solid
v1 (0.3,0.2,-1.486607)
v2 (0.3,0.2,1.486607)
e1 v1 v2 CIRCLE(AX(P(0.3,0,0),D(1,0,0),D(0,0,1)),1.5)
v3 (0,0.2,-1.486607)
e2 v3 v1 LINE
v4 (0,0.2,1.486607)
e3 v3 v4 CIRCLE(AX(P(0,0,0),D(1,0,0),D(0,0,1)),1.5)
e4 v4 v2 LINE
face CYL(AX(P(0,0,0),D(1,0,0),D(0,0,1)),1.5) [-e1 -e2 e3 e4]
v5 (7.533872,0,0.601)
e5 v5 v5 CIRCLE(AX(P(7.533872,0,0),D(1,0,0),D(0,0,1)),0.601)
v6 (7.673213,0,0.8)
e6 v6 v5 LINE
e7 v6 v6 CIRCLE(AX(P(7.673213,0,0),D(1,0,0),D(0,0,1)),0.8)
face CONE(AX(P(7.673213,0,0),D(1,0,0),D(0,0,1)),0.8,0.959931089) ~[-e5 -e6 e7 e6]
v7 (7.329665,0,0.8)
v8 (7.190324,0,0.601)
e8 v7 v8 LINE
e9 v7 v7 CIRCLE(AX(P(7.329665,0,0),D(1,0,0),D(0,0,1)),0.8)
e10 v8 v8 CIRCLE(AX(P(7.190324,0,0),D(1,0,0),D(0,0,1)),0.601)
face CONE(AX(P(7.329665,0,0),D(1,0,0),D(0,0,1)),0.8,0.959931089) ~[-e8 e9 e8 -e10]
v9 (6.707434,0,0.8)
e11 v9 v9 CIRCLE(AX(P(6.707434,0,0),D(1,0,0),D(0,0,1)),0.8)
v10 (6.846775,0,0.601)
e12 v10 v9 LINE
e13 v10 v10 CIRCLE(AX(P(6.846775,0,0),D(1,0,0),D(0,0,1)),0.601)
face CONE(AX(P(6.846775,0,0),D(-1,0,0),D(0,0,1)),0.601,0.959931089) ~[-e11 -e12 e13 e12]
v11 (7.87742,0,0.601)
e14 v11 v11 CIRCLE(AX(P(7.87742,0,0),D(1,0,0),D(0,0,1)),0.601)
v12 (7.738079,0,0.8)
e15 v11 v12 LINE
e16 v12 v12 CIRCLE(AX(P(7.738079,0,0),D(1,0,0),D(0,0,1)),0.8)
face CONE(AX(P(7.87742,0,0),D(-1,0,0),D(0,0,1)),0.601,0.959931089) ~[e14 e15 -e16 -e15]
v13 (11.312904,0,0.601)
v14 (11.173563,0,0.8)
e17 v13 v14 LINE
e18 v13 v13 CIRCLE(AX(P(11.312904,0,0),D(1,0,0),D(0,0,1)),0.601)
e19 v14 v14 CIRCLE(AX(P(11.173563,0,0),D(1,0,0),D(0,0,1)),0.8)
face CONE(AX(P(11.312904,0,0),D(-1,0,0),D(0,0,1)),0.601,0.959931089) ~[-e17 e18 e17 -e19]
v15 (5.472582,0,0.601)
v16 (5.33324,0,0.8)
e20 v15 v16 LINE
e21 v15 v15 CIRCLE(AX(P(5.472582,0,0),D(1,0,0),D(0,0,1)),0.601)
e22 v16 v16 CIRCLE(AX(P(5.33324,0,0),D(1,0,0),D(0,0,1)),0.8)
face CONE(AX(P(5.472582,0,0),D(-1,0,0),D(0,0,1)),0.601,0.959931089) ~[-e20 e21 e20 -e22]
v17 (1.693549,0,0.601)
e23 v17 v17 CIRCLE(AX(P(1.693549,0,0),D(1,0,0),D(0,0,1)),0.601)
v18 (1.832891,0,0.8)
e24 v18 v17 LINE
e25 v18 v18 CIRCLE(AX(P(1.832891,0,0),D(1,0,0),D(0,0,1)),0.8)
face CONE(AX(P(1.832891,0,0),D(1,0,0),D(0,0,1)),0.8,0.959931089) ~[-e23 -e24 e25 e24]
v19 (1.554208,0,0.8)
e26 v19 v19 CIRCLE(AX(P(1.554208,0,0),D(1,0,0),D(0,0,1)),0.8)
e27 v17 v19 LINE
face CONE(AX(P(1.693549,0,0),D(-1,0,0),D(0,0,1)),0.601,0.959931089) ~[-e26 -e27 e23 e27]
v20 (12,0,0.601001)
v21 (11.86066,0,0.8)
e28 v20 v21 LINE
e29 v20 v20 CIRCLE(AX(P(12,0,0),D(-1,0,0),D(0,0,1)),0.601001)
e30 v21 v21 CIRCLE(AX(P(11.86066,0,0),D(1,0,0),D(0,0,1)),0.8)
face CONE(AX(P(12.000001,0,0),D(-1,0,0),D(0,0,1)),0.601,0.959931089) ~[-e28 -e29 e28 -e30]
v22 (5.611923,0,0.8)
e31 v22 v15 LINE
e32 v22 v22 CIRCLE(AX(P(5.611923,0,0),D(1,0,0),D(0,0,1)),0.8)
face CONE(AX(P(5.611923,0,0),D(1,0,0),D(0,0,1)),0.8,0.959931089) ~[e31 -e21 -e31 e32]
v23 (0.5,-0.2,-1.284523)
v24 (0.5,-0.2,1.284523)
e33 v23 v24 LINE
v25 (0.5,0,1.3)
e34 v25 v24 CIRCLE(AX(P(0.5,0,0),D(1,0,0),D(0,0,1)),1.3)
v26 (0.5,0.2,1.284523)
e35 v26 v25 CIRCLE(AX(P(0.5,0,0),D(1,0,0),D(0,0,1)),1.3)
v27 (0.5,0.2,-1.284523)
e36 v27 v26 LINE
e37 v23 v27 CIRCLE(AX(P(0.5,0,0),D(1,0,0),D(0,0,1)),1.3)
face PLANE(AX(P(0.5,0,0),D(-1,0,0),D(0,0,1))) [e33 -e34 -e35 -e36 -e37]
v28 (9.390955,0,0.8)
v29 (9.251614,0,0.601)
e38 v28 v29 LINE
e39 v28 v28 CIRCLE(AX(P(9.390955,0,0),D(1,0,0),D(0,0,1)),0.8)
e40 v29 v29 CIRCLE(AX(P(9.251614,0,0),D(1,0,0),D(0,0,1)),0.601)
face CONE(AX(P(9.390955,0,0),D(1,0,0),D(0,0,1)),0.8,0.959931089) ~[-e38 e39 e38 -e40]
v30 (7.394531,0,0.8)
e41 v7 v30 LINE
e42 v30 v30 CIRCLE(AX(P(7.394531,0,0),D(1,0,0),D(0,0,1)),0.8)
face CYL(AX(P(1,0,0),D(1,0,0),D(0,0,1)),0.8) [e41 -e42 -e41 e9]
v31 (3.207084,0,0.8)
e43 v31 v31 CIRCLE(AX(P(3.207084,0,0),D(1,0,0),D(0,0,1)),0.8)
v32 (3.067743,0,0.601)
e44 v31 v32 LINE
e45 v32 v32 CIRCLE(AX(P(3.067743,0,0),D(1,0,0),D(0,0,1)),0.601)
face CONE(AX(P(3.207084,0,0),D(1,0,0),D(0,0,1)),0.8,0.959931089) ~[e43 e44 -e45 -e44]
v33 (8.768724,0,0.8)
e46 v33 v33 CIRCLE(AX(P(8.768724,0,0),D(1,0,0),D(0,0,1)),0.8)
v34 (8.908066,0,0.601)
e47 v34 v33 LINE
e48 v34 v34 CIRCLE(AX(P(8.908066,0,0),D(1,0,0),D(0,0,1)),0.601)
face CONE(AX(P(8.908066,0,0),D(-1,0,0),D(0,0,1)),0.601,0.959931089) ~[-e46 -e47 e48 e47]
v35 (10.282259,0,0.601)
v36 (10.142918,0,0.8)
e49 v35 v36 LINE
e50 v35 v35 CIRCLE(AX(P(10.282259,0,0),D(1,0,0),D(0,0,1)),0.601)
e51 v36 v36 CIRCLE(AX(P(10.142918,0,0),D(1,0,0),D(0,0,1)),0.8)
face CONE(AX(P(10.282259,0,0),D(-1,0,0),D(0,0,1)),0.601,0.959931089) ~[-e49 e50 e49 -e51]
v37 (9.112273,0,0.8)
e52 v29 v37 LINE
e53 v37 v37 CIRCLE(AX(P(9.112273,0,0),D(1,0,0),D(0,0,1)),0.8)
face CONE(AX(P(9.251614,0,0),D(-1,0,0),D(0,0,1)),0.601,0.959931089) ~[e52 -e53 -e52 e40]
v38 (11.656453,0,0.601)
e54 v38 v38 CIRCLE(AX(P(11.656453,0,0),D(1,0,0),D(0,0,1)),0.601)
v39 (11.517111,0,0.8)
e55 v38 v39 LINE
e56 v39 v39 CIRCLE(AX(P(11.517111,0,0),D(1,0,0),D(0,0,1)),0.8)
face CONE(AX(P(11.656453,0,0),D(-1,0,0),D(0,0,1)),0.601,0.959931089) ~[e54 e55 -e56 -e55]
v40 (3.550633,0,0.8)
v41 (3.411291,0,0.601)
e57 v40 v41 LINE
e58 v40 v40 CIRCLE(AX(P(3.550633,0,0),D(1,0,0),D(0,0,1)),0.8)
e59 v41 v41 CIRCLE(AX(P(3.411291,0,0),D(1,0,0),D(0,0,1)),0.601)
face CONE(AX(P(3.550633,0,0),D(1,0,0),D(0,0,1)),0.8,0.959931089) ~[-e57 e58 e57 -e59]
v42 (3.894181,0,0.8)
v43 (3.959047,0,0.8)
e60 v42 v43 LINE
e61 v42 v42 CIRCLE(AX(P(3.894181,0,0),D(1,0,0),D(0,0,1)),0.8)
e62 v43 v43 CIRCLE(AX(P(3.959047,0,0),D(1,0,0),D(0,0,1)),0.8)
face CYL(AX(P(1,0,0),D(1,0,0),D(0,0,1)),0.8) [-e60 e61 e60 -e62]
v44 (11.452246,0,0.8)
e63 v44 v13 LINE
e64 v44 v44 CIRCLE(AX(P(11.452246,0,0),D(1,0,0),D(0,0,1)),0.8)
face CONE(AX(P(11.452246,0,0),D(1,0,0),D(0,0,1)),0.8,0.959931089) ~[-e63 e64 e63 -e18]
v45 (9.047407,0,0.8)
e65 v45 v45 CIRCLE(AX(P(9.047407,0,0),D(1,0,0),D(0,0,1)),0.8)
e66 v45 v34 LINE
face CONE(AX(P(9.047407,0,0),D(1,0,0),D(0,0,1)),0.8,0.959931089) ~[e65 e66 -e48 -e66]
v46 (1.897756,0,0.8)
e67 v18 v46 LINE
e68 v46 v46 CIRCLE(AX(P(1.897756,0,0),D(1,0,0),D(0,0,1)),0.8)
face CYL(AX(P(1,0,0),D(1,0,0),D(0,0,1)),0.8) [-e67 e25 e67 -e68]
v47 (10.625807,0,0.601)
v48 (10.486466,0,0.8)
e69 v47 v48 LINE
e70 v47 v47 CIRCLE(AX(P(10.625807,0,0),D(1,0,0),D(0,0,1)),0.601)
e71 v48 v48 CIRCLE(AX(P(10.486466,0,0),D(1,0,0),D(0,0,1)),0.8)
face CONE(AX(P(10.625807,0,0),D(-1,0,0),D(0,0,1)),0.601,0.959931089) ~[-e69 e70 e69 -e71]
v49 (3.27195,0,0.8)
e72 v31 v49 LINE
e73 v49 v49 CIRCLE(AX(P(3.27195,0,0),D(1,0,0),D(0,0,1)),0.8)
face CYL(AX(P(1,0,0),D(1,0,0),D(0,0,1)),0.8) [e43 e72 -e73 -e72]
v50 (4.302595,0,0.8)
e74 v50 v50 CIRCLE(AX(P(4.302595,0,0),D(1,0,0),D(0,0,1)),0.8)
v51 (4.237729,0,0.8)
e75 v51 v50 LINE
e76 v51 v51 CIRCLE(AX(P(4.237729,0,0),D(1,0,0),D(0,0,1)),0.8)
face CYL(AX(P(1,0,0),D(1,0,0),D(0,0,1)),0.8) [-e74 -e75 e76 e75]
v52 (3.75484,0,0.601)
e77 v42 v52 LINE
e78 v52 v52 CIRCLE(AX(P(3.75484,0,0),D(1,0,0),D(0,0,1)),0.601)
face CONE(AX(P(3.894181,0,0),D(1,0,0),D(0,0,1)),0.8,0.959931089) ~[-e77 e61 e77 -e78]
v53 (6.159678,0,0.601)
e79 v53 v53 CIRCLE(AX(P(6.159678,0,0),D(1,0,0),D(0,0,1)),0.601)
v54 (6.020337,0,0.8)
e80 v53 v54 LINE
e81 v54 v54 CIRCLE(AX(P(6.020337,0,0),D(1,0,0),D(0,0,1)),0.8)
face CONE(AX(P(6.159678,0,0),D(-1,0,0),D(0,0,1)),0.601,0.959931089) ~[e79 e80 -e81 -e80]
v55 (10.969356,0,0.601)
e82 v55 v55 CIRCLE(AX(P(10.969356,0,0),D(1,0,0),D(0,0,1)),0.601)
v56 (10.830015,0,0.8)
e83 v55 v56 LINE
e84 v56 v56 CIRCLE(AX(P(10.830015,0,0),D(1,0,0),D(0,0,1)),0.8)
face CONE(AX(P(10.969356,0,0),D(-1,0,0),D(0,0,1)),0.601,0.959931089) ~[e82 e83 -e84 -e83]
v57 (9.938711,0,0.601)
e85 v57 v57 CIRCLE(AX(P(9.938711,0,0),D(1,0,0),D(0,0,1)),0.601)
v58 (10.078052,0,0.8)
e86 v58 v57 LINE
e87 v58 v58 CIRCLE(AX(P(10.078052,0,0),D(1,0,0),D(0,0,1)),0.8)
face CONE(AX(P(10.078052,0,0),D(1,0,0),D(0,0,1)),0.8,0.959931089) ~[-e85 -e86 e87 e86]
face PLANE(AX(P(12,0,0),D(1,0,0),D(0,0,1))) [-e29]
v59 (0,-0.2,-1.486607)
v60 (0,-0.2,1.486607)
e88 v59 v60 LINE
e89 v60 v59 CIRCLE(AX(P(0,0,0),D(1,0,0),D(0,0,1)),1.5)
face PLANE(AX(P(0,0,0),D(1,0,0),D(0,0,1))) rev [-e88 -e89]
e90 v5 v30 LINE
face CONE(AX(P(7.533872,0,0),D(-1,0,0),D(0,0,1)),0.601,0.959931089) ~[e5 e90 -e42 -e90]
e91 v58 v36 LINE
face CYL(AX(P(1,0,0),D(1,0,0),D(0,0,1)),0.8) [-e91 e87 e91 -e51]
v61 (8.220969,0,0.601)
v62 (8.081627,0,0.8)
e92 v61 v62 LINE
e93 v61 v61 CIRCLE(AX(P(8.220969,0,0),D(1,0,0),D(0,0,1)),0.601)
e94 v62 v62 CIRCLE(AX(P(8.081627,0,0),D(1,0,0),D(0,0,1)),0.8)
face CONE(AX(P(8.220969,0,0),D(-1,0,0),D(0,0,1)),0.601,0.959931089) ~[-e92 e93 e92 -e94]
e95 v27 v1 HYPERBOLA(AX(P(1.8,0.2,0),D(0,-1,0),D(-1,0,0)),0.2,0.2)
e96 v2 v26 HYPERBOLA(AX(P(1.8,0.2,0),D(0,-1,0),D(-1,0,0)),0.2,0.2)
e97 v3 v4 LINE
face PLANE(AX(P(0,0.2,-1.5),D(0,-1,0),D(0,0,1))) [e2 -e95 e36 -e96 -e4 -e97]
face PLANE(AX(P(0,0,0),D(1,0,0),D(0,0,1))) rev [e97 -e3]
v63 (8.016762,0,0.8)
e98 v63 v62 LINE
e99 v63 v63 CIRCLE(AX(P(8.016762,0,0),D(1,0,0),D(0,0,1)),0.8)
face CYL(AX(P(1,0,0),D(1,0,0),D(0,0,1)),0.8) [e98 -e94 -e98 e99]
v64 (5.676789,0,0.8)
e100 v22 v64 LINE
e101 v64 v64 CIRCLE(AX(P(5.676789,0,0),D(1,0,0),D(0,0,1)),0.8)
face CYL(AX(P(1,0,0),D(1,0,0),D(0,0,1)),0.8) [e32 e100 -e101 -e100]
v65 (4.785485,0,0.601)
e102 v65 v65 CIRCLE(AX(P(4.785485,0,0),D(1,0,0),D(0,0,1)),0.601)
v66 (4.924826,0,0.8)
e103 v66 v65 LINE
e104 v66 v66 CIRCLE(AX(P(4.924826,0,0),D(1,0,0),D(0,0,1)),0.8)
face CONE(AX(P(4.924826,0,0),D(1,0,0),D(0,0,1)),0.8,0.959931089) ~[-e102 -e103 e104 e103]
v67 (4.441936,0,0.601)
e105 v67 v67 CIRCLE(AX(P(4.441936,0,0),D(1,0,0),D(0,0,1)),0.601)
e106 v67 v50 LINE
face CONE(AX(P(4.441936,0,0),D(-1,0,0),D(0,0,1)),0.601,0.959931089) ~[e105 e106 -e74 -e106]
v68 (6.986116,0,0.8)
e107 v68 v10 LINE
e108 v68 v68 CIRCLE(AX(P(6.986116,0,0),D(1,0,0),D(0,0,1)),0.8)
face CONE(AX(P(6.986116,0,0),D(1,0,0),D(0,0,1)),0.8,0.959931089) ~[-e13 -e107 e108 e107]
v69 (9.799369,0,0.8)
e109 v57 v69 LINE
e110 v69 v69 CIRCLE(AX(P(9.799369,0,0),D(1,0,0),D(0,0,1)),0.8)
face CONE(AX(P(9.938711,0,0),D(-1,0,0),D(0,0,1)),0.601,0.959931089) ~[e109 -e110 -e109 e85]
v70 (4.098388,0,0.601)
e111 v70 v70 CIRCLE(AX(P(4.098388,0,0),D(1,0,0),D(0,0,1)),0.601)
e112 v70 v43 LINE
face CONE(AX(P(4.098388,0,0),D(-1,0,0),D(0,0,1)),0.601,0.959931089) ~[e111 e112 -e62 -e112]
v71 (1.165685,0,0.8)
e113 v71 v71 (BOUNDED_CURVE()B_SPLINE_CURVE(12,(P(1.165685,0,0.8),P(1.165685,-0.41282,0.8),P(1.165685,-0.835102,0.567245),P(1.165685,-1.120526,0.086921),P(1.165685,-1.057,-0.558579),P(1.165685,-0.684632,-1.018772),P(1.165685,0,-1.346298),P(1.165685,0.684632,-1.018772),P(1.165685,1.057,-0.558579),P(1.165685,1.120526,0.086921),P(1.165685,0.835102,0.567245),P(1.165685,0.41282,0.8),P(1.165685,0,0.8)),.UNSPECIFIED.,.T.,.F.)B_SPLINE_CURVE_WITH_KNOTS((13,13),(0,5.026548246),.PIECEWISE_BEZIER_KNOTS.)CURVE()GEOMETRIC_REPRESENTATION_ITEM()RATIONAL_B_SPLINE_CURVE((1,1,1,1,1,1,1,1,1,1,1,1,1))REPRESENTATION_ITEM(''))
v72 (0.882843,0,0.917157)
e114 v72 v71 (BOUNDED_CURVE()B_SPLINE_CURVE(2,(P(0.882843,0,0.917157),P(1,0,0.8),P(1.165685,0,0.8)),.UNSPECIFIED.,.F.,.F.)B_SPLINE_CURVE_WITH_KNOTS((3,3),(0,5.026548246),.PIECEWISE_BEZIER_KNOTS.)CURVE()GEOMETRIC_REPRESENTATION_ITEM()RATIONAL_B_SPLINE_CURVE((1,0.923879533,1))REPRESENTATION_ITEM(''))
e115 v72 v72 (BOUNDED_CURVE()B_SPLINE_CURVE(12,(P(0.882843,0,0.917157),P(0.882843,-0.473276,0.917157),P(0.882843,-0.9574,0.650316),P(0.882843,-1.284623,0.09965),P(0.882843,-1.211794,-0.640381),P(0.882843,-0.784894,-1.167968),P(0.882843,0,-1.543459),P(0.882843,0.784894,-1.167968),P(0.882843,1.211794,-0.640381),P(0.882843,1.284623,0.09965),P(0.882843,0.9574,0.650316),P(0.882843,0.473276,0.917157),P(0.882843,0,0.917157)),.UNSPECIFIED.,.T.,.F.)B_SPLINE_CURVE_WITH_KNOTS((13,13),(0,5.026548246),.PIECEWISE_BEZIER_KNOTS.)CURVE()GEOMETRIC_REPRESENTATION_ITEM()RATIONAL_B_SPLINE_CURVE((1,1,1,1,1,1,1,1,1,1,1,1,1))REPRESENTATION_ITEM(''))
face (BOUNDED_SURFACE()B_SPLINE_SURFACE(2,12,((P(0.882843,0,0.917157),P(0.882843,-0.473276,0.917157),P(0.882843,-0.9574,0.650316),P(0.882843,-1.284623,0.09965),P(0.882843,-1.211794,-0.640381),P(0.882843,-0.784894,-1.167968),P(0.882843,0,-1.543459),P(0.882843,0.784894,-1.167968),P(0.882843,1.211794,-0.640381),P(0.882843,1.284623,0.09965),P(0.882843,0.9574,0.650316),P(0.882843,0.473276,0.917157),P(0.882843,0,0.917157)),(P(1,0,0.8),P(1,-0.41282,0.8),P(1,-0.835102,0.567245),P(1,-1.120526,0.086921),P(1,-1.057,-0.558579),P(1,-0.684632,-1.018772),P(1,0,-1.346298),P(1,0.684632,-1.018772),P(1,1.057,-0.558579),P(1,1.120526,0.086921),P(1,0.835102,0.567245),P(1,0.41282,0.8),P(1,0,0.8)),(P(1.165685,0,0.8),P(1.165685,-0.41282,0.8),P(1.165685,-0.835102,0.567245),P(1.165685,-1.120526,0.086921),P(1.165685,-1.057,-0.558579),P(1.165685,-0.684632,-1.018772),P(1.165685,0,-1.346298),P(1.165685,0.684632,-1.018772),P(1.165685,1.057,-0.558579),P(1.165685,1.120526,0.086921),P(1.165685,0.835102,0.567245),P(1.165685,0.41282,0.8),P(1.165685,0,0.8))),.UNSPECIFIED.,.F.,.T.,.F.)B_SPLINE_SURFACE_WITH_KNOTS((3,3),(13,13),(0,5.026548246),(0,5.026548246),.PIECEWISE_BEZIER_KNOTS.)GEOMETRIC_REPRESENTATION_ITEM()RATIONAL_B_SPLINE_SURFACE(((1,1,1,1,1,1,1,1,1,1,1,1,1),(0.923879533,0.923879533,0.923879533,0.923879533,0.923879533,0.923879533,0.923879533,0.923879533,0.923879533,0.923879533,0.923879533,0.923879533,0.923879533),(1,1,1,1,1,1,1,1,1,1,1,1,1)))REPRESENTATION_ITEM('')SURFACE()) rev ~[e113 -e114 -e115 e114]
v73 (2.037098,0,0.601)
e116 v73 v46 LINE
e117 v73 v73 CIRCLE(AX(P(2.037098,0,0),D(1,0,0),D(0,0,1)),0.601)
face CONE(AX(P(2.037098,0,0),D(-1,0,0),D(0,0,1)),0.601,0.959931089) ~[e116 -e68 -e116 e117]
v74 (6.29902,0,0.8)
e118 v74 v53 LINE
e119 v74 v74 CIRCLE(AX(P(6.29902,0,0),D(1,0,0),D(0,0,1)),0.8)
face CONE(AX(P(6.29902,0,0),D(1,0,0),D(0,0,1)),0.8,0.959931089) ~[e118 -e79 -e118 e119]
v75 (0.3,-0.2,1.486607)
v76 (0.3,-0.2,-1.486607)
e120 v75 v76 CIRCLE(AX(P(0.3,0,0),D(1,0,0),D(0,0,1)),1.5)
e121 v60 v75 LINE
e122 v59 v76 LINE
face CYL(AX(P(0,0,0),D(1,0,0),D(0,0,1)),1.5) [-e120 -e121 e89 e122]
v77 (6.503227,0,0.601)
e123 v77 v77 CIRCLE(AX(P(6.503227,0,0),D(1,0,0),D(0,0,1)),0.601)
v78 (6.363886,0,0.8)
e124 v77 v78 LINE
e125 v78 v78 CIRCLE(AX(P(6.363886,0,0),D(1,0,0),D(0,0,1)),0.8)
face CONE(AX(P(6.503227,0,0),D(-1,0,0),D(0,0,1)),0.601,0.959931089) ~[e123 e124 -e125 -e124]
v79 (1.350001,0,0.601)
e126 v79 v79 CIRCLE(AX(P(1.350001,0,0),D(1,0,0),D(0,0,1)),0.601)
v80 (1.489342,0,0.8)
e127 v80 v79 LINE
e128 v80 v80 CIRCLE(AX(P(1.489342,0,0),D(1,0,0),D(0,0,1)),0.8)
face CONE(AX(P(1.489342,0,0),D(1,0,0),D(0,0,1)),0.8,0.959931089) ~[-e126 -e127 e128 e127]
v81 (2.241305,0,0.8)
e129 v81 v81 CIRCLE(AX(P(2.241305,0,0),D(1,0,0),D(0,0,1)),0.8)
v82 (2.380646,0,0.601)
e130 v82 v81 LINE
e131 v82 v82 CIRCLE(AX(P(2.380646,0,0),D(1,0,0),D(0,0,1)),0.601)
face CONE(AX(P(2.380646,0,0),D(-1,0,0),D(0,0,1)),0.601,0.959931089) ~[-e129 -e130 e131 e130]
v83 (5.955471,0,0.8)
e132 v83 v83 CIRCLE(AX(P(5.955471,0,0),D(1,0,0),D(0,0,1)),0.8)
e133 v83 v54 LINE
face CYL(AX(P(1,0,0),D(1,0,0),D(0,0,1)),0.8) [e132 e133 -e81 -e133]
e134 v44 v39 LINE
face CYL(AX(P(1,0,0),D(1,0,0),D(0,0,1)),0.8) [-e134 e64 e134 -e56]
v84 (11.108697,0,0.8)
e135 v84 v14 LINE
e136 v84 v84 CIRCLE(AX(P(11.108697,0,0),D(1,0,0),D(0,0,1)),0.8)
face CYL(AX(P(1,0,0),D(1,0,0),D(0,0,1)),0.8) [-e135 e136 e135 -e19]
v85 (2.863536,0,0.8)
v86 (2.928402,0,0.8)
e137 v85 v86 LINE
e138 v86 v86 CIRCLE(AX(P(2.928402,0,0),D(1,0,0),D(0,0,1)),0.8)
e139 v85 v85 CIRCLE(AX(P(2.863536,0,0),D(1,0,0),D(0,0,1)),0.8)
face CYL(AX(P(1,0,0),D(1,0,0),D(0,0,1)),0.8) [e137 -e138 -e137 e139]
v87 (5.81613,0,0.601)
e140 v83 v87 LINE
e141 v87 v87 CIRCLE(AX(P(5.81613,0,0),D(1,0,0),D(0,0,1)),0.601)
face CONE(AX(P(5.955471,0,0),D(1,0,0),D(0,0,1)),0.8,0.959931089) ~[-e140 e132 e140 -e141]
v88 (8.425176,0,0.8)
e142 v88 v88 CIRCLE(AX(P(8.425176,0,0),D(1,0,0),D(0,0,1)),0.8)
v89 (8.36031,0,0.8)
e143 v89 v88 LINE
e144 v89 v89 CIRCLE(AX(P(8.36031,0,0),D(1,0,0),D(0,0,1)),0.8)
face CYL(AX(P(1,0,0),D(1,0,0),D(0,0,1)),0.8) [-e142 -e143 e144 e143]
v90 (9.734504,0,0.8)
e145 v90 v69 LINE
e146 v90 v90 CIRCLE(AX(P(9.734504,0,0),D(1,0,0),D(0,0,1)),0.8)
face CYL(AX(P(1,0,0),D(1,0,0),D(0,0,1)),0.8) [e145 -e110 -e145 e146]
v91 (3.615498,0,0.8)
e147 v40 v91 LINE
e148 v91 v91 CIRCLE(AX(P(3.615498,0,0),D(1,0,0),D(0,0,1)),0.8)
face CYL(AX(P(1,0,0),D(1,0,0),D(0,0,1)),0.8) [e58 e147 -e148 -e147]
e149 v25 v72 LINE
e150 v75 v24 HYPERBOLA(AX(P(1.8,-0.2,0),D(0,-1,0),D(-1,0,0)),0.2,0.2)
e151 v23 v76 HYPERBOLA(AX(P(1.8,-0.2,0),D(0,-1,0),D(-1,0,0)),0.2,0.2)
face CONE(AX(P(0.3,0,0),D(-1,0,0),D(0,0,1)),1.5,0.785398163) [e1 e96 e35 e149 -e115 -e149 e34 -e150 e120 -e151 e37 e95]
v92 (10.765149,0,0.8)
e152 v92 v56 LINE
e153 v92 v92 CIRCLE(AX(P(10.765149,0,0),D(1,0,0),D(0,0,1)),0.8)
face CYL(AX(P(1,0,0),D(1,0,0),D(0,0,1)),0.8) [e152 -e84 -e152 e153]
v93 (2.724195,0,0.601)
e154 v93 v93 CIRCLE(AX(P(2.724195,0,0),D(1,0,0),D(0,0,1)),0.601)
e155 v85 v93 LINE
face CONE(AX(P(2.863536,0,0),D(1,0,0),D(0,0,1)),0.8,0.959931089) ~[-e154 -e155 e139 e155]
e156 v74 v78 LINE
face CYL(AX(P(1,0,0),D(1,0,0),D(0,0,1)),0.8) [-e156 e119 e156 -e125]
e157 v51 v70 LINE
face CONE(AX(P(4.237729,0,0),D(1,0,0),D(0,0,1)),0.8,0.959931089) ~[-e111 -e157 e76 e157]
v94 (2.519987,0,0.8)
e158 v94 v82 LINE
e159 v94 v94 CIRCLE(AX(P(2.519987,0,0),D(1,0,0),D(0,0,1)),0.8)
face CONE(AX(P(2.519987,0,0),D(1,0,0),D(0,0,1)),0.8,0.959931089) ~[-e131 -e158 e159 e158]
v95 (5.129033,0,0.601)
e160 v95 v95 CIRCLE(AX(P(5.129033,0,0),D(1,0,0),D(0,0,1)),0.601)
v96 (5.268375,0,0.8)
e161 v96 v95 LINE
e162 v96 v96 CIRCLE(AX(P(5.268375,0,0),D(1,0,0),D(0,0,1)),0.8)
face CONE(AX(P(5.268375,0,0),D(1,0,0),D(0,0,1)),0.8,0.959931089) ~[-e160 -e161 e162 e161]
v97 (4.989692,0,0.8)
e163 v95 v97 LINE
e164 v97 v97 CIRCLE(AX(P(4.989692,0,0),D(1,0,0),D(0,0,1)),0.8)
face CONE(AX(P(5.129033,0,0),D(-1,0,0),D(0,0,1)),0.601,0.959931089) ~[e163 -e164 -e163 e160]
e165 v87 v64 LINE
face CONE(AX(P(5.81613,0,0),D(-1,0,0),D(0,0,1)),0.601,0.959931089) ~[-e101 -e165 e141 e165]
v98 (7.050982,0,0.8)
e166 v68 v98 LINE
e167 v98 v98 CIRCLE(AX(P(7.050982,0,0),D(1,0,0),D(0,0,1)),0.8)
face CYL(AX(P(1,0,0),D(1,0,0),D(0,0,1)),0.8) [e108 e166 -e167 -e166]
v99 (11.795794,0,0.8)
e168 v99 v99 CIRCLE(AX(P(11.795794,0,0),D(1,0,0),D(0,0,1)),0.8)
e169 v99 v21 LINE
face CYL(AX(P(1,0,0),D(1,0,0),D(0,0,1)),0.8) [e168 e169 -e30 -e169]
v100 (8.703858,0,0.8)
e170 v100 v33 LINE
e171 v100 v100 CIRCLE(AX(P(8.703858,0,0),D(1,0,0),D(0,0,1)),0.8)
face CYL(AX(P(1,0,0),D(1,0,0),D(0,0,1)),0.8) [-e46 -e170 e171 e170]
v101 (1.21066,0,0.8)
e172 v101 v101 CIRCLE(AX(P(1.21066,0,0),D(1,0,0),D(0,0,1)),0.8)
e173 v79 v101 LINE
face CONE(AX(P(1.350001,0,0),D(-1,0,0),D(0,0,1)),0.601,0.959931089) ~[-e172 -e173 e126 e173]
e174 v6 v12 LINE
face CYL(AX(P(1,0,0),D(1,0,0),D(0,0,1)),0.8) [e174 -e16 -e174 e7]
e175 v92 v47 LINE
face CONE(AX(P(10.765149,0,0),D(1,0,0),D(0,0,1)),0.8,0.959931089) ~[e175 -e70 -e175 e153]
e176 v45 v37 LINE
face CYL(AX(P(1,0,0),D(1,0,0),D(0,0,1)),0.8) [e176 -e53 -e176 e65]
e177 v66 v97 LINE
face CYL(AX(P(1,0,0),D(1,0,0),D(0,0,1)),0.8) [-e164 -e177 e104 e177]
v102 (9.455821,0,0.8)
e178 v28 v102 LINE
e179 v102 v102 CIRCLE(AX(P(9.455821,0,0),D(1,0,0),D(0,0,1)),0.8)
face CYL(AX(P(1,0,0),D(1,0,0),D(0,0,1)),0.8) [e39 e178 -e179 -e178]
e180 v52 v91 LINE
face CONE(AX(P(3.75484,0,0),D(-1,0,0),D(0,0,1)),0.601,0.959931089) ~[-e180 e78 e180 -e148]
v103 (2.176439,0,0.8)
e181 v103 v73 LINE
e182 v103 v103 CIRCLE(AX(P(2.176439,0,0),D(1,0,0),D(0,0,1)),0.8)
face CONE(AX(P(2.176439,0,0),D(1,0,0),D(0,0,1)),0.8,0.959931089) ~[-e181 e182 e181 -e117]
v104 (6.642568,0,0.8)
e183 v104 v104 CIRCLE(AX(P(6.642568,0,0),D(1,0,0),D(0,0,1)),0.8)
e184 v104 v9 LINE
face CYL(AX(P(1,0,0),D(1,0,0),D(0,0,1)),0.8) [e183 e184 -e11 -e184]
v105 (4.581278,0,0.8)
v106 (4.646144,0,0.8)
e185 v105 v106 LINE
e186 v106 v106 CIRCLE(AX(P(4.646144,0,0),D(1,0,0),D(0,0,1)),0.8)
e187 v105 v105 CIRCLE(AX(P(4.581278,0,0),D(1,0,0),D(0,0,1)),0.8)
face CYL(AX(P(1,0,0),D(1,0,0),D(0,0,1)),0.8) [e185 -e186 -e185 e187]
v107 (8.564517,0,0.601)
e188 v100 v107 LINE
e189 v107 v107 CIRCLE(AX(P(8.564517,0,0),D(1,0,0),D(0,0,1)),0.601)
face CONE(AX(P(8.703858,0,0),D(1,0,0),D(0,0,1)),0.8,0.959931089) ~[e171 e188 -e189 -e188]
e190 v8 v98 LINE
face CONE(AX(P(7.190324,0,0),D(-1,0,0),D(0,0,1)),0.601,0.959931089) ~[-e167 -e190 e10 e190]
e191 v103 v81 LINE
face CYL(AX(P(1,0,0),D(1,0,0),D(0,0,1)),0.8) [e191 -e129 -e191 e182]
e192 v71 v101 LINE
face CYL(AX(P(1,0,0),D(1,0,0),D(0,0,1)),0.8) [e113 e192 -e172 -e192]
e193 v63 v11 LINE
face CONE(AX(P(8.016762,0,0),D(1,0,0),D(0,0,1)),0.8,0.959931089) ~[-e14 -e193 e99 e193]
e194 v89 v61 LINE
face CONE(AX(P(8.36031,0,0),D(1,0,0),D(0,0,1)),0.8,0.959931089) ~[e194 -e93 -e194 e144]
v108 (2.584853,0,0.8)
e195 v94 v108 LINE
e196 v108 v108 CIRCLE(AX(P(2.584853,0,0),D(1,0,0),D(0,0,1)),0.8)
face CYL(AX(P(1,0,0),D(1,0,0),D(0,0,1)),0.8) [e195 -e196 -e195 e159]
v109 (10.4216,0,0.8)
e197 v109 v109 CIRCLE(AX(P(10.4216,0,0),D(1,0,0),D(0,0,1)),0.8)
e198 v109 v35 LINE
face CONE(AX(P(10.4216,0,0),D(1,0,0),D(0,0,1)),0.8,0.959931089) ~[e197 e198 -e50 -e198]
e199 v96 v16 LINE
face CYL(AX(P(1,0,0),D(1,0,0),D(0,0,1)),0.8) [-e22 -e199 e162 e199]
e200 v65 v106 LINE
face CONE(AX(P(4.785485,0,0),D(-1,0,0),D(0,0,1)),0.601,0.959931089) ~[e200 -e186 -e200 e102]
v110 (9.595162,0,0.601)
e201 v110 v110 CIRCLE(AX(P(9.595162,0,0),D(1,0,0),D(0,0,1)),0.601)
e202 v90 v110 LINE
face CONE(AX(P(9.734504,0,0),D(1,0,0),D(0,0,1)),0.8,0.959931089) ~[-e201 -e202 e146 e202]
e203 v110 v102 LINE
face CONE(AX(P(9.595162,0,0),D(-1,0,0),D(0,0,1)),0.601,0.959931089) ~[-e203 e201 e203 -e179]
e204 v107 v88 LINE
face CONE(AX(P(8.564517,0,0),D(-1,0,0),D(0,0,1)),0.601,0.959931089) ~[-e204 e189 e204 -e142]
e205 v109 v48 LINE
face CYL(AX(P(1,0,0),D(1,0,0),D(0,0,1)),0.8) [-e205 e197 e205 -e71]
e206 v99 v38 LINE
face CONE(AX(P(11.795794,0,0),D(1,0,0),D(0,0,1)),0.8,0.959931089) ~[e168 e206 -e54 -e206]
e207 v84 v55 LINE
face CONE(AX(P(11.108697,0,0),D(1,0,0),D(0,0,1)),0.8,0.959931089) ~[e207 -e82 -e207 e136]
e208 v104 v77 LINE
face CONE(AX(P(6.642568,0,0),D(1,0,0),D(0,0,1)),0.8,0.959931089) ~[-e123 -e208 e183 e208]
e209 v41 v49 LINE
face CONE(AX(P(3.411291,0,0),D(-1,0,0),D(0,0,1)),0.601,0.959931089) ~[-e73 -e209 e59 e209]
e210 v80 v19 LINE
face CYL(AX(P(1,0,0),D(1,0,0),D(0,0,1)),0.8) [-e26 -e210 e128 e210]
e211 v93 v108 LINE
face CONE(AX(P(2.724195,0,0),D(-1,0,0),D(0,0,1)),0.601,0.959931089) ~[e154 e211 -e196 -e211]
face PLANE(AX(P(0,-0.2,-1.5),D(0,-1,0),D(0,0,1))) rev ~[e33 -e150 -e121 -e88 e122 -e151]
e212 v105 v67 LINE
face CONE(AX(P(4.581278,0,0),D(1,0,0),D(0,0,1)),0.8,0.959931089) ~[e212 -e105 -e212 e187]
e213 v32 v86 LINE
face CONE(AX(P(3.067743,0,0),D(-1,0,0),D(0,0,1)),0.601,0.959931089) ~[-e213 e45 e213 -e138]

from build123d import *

# Parameters (mm, degrees)
FILLET1_R       = 0.4
SKETCH2_W       = 3
SKETCH2_H       = 0.4
SLOT_DEPTH      = 0.5
THDSCHPAT_COUNT = 32
THDSCHPAT_PITCH = 0.343548387


with BuildPart() as part:
    # BodySke → Base-Revolve (revolve)
    with BuildSketch(Plane.XY, mode=Mode.PRIVATE) as base_revolve_sk:
        Polygon((0, 0), (0, 1.5), (0.3, 1.5), (1, 0.8), (12, 0.8), (12, 0), align=None)
    revolve(base_revolve_sk.sketch.rotate(Axis((-6.35, 0, 0), (1, 0, 0)), 90), axis=Axis((-6.35, 0, 0), (1, 0, 0)))

    # Fillet1
    fillet1_edges = [part.edges().sort_by_distance(p)[0] for p in [
        (1, 0, -0.8),
    ]]
    fillet(fillet1_edges, radius=FILLET1_R)

    # Sketch2 → Slot (cut)
    with BuildSketch(Plane.ZY):
        Rectangle(SKETCH2_W, SKETCH2_H)
    extrude(amount=-SLOT_DEPTH, mode=Mode.SUBTRACT)

    # ThdSchSke → ThreadSchematic (revolve, cut)
    with BuildSketch(Plane.XY, mode=Mode.PRIVATE) as threadschematic_sk:
        Polygon((1.350001, -0.601), (1.2106597, -0.8), (1.2106597, -1), (1.4893423, -1), (1.4893423, -0.8), align=None)
    threadschematic = revolve(threadschematic_sk.sketch.rotate(Axis((-3.175, 0, 0), (1, 0, 0)), 270), axis=Axis((-3.175, 0, 0), (1, 0, 0)), mode=Mode.SUBTRACT)

    # ThdSchPat: ThreadSchematic ×32
    with Locations(*[(i * THDSCHPAT_PITCH, 0, 0) for i in range(1, THDSCHPAT_COUNT)]):
        add(threadschematic, mode=Mode.SUBTRACT)


solid = part.part
